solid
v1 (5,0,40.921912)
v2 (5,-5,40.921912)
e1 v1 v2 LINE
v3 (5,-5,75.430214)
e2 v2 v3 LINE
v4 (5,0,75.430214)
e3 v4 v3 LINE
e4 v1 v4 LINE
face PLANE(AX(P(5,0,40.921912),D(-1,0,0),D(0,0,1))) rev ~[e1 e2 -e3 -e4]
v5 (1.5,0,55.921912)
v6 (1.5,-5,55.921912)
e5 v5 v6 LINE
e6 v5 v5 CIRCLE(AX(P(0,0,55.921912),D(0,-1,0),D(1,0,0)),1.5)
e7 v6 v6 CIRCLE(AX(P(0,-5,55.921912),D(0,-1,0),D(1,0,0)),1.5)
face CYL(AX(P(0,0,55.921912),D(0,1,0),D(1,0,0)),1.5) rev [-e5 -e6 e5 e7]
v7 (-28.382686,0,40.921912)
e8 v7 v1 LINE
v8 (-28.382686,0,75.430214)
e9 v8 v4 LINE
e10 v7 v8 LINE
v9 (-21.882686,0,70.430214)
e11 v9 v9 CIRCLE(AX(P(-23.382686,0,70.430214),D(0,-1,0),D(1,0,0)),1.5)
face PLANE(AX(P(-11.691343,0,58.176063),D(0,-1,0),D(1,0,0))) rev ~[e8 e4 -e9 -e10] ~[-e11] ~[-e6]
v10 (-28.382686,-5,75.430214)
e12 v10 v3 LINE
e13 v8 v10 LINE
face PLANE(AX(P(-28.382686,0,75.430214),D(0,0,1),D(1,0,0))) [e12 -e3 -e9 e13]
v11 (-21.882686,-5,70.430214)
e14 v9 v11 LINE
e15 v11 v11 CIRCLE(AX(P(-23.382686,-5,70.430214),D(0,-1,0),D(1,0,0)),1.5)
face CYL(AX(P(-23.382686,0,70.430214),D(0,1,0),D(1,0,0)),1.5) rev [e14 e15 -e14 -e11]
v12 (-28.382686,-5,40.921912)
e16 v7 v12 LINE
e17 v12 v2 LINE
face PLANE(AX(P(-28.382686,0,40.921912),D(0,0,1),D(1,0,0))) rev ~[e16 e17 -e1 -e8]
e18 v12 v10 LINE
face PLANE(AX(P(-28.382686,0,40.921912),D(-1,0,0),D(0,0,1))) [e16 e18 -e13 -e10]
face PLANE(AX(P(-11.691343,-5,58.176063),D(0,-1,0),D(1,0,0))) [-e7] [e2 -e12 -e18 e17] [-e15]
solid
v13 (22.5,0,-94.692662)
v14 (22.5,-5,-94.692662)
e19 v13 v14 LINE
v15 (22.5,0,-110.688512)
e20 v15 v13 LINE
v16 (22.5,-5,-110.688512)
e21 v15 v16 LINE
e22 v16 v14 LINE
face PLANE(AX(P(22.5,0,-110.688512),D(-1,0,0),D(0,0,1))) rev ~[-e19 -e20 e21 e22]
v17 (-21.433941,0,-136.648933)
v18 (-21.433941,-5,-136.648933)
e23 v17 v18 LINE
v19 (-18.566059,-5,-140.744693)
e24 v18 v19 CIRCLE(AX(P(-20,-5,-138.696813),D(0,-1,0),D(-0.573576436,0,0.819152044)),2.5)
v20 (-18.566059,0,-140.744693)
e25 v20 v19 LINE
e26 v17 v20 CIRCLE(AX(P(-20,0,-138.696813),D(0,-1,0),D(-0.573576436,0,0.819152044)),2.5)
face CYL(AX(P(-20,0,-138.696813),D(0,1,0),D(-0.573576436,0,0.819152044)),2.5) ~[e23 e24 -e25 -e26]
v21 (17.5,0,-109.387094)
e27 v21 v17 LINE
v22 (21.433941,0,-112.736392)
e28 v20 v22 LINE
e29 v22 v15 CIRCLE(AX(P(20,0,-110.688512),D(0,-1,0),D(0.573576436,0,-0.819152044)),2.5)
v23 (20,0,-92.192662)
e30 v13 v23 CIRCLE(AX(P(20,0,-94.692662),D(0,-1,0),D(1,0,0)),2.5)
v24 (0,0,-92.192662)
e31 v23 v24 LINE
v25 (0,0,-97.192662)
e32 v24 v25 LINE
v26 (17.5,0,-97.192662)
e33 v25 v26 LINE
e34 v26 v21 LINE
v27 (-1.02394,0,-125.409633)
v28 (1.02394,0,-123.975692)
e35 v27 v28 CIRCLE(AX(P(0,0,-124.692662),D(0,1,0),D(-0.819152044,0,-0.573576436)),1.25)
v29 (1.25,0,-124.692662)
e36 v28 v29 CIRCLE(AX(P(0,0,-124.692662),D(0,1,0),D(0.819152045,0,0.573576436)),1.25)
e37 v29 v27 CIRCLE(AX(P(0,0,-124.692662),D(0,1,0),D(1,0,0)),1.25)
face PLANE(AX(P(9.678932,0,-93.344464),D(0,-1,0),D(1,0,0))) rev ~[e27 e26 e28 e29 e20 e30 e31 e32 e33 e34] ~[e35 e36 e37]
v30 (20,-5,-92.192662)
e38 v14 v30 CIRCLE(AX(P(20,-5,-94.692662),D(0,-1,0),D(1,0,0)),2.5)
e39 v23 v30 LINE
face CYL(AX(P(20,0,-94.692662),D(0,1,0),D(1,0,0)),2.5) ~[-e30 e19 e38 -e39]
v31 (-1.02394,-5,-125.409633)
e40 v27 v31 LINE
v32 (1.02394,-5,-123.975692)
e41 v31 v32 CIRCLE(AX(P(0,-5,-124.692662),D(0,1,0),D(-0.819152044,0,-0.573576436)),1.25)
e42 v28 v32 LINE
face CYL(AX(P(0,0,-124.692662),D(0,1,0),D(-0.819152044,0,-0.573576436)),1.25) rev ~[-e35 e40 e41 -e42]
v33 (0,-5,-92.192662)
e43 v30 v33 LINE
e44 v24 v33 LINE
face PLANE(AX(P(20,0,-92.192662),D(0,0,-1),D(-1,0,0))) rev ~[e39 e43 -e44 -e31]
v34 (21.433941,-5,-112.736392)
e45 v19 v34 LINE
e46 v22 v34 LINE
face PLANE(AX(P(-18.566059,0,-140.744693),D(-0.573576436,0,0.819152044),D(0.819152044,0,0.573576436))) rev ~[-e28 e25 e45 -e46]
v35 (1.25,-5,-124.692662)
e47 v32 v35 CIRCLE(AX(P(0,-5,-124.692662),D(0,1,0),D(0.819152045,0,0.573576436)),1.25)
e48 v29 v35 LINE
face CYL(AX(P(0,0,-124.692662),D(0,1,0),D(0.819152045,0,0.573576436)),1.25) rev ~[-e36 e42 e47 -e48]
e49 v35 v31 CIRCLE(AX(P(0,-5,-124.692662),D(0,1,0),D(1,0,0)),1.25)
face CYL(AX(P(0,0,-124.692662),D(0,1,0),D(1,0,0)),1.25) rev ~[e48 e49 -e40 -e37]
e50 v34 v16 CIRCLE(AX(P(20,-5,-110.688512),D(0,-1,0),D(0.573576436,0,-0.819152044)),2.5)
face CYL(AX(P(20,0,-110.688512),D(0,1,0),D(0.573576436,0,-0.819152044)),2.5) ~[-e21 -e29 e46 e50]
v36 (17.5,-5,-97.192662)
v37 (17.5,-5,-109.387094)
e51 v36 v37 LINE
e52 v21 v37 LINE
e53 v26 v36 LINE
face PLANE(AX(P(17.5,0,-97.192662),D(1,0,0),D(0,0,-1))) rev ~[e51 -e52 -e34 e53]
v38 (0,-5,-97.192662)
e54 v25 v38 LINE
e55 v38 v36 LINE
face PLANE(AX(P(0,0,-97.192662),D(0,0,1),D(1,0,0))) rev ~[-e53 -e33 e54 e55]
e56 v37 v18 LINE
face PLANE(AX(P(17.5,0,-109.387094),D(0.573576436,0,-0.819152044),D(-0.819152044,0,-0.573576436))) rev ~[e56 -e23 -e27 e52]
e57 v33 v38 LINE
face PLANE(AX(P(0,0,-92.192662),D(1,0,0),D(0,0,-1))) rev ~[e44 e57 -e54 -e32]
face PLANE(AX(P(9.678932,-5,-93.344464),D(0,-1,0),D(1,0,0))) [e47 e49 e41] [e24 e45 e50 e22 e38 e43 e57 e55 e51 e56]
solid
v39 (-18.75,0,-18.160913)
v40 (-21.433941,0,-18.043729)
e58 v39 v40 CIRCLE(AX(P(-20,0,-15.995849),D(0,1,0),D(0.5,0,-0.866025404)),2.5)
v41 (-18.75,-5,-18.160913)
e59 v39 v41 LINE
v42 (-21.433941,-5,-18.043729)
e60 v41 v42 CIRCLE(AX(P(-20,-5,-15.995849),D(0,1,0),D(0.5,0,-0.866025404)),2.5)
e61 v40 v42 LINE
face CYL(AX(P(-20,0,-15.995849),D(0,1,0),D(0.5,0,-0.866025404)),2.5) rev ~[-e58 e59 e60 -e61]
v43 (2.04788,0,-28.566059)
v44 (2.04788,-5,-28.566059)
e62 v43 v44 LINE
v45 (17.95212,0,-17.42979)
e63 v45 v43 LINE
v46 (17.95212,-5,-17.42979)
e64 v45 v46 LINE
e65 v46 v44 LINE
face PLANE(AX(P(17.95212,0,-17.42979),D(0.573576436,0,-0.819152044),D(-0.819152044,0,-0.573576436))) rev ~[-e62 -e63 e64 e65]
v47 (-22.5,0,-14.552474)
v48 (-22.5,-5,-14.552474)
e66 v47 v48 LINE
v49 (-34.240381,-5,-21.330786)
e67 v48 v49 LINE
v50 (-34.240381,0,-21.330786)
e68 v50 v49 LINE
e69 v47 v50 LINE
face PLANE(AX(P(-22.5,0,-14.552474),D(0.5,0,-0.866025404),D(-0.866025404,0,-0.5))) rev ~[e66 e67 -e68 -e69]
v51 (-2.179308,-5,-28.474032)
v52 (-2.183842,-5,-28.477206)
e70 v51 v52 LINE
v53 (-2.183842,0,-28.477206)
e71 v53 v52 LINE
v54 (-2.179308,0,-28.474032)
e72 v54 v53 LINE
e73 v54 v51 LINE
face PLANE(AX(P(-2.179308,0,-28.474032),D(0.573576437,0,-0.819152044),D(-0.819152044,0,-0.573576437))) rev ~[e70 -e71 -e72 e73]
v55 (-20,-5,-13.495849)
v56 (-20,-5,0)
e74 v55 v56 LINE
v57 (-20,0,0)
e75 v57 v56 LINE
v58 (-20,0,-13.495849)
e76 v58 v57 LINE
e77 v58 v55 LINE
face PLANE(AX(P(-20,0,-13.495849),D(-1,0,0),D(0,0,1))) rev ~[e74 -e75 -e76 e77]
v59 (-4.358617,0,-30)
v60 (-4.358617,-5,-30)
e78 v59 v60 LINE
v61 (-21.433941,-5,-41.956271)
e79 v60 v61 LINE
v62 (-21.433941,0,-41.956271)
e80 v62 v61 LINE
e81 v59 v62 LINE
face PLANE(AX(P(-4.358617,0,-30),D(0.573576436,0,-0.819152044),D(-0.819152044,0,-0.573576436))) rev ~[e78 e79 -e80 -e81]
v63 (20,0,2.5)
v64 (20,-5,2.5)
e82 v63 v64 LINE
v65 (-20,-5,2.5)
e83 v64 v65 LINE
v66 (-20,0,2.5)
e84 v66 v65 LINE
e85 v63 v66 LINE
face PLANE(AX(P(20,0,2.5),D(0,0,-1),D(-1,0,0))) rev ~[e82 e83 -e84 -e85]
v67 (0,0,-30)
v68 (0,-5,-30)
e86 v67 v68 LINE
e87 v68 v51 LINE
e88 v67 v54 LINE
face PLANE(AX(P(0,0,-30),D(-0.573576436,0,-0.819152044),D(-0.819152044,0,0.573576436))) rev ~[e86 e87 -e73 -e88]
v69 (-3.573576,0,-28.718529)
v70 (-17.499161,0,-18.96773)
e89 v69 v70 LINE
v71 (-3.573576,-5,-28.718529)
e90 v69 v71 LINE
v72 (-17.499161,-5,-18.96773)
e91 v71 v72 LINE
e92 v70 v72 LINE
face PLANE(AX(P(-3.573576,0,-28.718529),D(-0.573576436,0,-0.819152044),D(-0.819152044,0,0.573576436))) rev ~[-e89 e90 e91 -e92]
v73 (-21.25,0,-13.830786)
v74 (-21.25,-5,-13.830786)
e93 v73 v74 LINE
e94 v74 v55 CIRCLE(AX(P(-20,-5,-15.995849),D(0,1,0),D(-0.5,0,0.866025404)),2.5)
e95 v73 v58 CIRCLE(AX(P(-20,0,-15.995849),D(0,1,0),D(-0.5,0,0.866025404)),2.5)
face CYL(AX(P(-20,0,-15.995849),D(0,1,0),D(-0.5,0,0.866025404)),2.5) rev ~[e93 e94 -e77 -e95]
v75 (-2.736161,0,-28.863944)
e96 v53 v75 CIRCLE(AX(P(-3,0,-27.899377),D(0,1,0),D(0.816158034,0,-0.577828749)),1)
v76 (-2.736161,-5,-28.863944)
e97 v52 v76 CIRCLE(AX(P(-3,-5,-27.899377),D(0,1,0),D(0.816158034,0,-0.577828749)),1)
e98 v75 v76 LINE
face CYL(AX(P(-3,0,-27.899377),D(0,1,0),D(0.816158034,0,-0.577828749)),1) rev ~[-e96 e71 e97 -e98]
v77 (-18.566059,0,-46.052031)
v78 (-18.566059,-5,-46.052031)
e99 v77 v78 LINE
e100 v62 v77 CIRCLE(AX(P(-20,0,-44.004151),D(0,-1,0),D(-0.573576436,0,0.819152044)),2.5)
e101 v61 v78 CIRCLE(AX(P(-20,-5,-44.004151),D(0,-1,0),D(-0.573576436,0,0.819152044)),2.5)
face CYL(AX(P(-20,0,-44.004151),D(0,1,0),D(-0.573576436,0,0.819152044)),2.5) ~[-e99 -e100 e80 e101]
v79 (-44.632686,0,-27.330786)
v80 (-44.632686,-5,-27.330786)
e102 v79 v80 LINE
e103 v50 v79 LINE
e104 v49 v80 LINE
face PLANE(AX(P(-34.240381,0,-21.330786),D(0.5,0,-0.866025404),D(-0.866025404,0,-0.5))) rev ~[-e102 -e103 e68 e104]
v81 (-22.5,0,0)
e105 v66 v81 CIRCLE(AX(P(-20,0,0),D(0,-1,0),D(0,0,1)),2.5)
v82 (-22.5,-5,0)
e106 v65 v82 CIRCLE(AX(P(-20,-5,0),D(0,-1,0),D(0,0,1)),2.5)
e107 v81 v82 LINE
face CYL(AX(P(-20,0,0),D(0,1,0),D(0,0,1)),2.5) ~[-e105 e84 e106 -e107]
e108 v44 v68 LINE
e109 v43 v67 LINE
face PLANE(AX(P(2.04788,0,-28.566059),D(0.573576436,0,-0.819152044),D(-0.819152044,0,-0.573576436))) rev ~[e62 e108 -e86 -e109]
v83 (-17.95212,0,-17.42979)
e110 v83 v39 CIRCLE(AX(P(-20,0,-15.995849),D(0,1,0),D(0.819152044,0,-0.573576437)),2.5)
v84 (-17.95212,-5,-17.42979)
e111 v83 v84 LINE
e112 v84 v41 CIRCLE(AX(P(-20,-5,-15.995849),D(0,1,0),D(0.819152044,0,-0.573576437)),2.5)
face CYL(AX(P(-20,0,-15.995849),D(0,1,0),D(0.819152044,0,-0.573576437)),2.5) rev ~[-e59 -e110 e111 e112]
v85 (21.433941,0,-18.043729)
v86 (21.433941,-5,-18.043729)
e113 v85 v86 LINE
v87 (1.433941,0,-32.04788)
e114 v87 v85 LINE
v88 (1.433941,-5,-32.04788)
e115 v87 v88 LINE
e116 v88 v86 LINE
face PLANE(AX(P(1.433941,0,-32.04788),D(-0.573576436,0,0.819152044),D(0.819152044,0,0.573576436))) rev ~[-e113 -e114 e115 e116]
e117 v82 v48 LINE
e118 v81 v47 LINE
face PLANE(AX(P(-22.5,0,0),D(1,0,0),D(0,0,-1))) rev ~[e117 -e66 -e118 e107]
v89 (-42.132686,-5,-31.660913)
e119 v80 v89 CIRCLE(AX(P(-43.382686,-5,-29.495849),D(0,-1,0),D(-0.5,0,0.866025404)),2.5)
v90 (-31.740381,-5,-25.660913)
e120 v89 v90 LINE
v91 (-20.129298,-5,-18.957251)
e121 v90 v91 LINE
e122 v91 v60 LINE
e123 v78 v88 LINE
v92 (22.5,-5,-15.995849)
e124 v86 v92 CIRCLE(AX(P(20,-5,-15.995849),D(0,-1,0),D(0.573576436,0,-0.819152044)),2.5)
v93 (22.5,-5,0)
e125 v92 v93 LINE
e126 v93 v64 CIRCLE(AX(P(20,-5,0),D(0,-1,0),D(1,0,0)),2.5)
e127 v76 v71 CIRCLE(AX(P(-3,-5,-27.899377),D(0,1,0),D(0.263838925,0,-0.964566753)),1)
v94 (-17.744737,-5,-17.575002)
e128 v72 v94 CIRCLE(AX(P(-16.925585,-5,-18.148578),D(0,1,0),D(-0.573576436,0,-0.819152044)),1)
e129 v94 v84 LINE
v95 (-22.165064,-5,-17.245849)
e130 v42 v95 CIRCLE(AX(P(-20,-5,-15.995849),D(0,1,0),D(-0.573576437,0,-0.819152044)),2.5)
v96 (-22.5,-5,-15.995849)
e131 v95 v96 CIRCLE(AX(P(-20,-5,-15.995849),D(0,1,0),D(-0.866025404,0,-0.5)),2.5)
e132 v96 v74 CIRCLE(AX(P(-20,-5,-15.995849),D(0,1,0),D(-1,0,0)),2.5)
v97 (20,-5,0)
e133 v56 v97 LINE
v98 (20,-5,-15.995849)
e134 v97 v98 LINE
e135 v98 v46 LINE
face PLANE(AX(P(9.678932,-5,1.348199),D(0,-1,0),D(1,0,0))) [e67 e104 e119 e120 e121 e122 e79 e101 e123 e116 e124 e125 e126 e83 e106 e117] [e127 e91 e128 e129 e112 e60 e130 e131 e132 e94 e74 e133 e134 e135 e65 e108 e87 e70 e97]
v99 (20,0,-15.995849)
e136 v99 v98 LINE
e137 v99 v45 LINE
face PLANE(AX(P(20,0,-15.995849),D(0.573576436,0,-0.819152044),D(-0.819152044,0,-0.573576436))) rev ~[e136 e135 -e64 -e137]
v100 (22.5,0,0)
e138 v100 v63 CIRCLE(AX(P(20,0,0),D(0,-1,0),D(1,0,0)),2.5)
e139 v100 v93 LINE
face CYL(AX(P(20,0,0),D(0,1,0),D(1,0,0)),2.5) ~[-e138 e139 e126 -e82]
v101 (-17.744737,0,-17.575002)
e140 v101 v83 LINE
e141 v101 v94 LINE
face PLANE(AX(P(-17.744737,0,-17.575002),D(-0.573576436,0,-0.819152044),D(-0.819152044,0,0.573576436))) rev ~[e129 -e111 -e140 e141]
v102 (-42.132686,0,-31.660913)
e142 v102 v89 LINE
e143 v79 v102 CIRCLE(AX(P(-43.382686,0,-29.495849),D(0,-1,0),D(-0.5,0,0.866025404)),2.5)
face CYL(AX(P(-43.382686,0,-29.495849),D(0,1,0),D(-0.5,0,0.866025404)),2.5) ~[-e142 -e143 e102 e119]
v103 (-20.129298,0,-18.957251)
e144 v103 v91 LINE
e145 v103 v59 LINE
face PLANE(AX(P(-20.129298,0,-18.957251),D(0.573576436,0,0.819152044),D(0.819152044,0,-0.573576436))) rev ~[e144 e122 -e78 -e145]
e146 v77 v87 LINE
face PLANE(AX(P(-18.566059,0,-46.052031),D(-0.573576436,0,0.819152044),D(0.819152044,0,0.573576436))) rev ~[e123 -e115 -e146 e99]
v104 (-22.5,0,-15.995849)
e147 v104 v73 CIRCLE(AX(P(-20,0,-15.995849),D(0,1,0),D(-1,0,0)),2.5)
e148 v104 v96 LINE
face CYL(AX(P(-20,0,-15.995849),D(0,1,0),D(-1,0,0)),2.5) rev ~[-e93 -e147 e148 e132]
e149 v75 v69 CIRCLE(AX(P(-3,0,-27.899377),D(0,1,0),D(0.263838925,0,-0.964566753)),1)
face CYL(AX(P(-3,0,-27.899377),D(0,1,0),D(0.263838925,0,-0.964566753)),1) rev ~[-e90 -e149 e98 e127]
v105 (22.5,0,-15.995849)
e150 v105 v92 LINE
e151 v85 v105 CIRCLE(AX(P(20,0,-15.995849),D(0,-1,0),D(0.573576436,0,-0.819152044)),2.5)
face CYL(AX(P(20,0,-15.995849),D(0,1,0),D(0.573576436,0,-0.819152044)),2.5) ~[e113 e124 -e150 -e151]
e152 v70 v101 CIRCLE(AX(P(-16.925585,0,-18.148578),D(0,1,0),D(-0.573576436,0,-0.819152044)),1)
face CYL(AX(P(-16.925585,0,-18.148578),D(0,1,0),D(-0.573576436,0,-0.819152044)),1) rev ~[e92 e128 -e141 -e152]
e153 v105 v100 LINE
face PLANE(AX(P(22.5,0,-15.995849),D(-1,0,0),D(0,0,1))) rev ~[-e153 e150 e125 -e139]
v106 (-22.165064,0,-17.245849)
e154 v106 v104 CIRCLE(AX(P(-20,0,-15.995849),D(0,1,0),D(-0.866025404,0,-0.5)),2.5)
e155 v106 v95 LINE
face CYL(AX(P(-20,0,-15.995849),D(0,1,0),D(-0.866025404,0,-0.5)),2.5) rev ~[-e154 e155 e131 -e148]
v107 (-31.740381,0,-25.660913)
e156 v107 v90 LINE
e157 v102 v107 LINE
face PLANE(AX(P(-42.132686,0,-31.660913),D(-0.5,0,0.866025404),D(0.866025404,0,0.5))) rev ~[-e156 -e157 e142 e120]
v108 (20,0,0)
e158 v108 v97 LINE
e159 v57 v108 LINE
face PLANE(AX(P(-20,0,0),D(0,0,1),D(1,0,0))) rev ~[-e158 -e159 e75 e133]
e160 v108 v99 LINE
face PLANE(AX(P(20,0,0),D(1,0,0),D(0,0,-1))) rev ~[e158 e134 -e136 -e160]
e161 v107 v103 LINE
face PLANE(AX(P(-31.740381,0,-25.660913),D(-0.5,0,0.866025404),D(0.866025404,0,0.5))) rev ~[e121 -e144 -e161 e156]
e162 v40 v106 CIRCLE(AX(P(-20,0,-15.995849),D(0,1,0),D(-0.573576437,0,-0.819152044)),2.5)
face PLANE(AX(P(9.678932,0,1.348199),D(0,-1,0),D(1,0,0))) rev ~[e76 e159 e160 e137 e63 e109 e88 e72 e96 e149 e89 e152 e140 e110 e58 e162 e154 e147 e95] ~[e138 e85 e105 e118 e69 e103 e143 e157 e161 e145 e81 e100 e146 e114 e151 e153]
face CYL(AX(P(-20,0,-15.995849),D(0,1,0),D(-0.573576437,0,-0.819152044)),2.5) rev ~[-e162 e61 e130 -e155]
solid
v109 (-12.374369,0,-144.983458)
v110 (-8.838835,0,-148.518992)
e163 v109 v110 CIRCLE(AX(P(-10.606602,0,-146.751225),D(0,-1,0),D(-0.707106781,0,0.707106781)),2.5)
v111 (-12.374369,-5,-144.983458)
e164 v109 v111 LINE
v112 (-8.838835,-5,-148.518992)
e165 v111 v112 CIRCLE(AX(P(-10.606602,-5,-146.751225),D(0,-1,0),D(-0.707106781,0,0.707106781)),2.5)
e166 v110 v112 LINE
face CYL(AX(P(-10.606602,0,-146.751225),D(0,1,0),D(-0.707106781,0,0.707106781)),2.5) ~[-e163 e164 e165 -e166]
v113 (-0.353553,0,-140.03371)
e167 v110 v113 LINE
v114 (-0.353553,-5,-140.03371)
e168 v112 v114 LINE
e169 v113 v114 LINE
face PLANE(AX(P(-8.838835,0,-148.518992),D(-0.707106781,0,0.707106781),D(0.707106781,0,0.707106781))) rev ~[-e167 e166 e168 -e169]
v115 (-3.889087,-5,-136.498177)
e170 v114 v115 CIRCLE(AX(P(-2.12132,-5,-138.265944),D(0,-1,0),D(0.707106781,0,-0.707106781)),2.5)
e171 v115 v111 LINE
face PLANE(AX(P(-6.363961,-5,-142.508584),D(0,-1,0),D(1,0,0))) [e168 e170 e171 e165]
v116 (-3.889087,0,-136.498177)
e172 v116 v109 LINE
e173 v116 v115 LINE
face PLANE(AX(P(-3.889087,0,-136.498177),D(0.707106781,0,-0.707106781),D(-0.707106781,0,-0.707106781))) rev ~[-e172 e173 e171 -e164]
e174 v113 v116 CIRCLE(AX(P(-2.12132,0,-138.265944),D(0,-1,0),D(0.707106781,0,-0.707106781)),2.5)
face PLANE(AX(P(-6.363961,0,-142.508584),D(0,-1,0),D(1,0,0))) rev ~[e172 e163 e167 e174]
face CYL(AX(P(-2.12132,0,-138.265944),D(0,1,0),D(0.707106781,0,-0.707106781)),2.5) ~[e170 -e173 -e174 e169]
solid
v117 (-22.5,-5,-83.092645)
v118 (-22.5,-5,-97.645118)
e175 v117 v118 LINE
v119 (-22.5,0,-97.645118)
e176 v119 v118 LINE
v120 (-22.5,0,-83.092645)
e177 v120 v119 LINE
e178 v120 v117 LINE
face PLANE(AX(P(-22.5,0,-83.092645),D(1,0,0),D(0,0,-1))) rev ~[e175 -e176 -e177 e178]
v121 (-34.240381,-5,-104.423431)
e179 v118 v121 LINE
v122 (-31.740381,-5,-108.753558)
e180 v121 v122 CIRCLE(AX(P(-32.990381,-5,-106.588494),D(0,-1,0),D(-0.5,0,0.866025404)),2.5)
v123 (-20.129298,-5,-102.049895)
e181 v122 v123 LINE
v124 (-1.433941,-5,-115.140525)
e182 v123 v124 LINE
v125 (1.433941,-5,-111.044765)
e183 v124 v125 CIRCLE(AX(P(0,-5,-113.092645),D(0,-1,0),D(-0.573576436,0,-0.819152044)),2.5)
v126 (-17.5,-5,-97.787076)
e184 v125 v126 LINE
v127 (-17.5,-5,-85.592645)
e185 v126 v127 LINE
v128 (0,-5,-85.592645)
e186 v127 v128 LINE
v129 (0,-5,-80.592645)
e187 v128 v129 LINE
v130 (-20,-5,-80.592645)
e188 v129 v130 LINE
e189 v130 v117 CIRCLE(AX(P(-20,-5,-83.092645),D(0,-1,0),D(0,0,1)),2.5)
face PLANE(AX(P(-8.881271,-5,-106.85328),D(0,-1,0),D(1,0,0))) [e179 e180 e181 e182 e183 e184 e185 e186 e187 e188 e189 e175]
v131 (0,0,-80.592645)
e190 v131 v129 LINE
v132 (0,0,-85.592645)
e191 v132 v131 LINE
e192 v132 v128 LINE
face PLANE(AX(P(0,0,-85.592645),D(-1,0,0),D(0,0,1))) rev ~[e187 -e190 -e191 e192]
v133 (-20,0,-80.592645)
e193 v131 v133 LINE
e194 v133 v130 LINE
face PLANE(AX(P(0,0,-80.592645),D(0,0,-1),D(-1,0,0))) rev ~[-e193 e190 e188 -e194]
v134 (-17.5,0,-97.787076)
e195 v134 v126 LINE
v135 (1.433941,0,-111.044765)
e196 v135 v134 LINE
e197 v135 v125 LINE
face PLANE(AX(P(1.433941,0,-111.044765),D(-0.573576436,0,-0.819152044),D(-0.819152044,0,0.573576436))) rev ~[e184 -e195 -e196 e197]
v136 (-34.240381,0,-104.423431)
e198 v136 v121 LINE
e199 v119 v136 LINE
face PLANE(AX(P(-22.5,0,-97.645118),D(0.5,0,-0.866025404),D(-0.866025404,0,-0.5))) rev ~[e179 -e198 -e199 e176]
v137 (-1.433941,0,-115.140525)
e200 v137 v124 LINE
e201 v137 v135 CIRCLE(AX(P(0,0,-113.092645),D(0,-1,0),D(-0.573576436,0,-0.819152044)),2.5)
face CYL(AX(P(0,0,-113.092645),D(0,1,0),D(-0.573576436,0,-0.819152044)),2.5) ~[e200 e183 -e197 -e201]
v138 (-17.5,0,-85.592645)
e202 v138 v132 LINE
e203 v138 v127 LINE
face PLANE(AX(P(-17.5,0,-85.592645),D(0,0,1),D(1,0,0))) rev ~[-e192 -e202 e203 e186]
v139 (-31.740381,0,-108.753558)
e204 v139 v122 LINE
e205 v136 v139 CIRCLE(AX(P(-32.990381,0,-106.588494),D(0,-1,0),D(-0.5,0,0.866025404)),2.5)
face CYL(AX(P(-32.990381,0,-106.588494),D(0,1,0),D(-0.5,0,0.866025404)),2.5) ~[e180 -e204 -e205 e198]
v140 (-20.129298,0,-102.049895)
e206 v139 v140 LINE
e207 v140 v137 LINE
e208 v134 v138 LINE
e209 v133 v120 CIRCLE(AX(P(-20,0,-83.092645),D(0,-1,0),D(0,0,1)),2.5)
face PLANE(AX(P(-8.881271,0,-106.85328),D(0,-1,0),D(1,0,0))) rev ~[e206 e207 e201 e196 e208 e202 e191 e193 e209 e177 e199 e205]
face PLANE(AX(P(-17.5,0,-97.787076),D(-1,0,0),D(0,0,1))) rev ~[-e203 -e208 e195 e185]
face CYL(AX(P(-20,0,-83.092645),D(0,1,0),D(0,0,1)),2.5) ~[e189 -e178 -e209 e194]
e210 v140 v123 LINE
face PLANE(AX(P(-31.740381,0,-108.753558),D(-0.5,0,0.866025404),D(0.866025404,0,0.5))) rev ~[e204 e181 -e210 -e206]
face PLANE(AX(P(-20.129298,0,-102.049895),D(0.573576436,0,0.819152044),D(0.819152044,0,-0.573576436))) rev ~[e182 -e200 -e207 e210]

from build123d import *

# Parameters (mm, degrees)
F1_DEPTH = 5
F0_W     = 2.5
F0_H     = 2.5
F0_W_2   = 17.5
F0_W_3   = 33.3826859022
F0_H_2   = 34.5083015284
F0_R     = 1.5


with BuildPart() as f1:
    # F0 (on Front) → F1 (new body)
    with BuildSketch(Plane.XZ):
        with BuildLine():
            Line((0, 2.5), (0, 0))
            Line((0, 0), (17.5, 0))
            ThreePointArc((17.5, 0), (18.232233047, 1.767766953), (20, 2.5))
            Line((20, 2.5), (0, 2.5))
        make_face()
        with BuildLine():
            Line((-17.5, 0), (0, 0))
            Line((0, 0), (0, 2.5))
            Line((0, 2.5), (-20, 2.5))
            ThreePointArc((-20, 2.5), (-18.232233047, 1.767766953), (-17.5, 0))
        make_face()
        with BuildLine():
            ThreePointArc((20, 2.5), (18.232233047, 1.767766953), (17.5, 0))
            Line((17.5, 0), (20, 0))
            Line((20, 0), (20, -2.5))
            ThreePointArc((20, -2.5), (21.767766953, -1.767766953), (22.5, 0))
            ThreePointArc((22.5, 0), (21.767766953, 1.767766953), (20, 2.5))
        make_face()
        with BuildLine():
            Line((-20, 0), (-17.5, 0))
            ThreePointArc((-17.5, 0), (-18.232233047, 1.767766953), (-20, 2.5))
            ThreePointArc((-20, 2.5), (-21.767766953, 1.767766953), (-22.5, 0))
            ThreePointArc((-22.5, 0), (-21.767766953, -1.767766953), (-20, -2.5))
            Line((-20, -2.5), (-20, 0))
        make_face()
        with BuildLine():
            ThreePointArc((22.5, 0), (21.767766953, -1.767766953), (20, -2.5))
            Line((20, -2.5), (20, -13.4958492358))
            ThreePointArc((20, -13.4958492358), (21.767766953, -14.2280822828), (22.5, -15.9958492358))
            Line((22.5, -15.9958492358), (22.5, 0))
        make_face()
        with BuildLine():
            Line((-20, -13.4958492358), (-20, -2.5))
            ThreePointArc((-20, -2.5), (-21.767766953, -1.767766953), (-22.5, 0))
            Line((-22.5, 0), (-22.5, -14.5524735628))
            Line((-22.5, -14.5524735628), (-21.25, -13.8307857263))
            ThreePointArc((-21.25, -13.8307857263), (-20.6470476128, -13.5810346701), (-20, -13.4958492358))
        make_face()
        with BuildLine():
            ThreePointArc((22.5, -15.9958492358), (21.767766953, -14.2280822828), (20, -13.4958492358))
            Line((20, -13.4958492358), (20, -15.9958492358))
            Line((20, -15.9958492358), (17.9521198893, -17.4297903267))
            ThreePointArc((17.9521198893, -17.4297903267), (19.5658795558, -18.4578686183), (21.4339410909, -18.0437293465))
            ThreePointArc((21.4339410909, -18.0437293465), (22.2175270829, -17.1502207689), (22.5, -15.9958492358))
        make_face()
        with BuildLine():
            Line((-21.25, -13.8307857263), (-22.5, -14.5524735628))
            Line((-22.5, -14.5524735628), (-22.5, -15.9958492358))
            ThreePointArc((-22.5, -15.9958492358), (-22.1650635095, -14.7458492358), (-21.25, -13.8307857263))
        make_face()
        with BuildLine():
            Line((-22.5, -15.9958492358), (-22.5, -14.5524735628))
            Line((-22.5, -14.5524735628), (-34.2403810568, -21.3307857263))
            ThreePointArc((-34.2403810568, -21.3307857263), (-32.343333444, -21.0810346701), (-30.8253175473, -22.2458492358))
            Line((-30.8253175473, -22.2458492358), (-22.1650635095, -17.2458492358))
            ThreePointArc((-22.1650635095, -17.2458492358), (-22.4148145657, -16.6428968486), (-22.5, -15.9958492358))
        make_face()
        with BuildLine():
            Line((1.4339411547, -32.0478800661), (21.4339410909, -18.0437293465))
            ThreePointArc((21.4339410909, -18.0437293465), (19.5658795558, -18.4578686183), (17.9521198893, -17.4297903267))
            Line((17.9521198893, -17.4297903267), (2.0478801107, -28.5660589091))
            ThreePointArc((2.0478801107, -28.5660589091), (2.4620193893, -30.4341204058), (1.4339411547, -32.0478800661))
        make_face()
        with BuildLine():
            Line((0, -30), (-2.1793084945, -28.474031764))
            Line((-2.1793084945, -28.474031764), (-2.1838419664, -28.4772061352))
            ThreePointArc((-2.1838419664, -28.4772061352), (-2.4264235636, -28.7185294297), (-2.7361610753, -28.8639441388))
            Line((-2.7361610753, -28.8639441388), (-4.3586169891, -30))
            Line((-4.3586169891, -30), (-2.1793084945, -31.525968236))
            Line((-2.1793084945, -31.525968236), (0, -30))
        make_face()
        with BuildLine():
            ThreePointArc((-30.8253175473, -22.2458492358), (-32.343333444, -21.0810346701), (-34.2403810568, -21.3307857263))
            ThreePointArc((-34.2403810568, -21.3307857263), (-35.4051956225, -22.848801623), (-35.1554445662, -24.7458492358))
            Line((-35.1554445662, -24.7458492358), (-32.9903810568, -23.4958492358))
            Line((-32.9903810568, -23.4958492358), (-30.8253175473, -22.2458492358))
        make_face()
        with BuildLine():
            ThreePointArc((-35.1554445662, -24.7458492358), (-35.4051956225, -22.848801623), (-34.2403810568, -21.3307857263))
            Line((-34.2403810568, -21.3307857263), (-44.6326859022, -27.3307857263))
            ThreePointArc((-44.6326859022, -27.3307857263), (-45.5477494116, -30.7458492358), (-42.1326859022, -31.6609127453))
            Line((-42.1326859022, -31.6609127453), (-31.7403810568, -25.6609127453))
            ThreePointArc((-31.7403810568, -25.6609127453), (-33.6374286695, -25.9106638015), (-35.1554445662, -24.7458492358))
        make_face()
        with BuildLine():
            Line((-17.7447367972, -17.5750015311), (-17.9521198893, -17.4297903267))
            ThreePointArc((-17.9521198893, -17.4297903267), (-18.311024481, -17.8390425778), (-18.75, -18.1609127453))
            Line((-18.75, -18.1609127453), (-20.1292975746, -18.9572505713))
            Line((-20.1292975746, -18.9572505713), (-4.3586169891, -30))
            Line((-4.3586169891, -30), (-2.7361610753, -28.8639441388))
            ThreePointArc((-2.7361610753, -28.8639441388), (-3.1710867936, -28.8846333466), (-3.5735764364, -28.7185294297))
            Line((-3.5735764364, -28.7185294297), (-17.4991611893, -18.9677300117))
            ThreePointArc((-17.4991611893, -18.9677300117), (-17.9103925059, -18.3222261451), (-17.7447367972, -17.5750015311))
        make_face()
        with BuildLine():
            ThreePointArc((-1.4339410909, -32.0478801107), (3.89e-08, -32.5), (1.4339411547, -32.0478800661))
            ThreePointArc((1.4339411547, -32.0478800661), (2.4620193893, -30.4341204058), (2.0478801107, -28.5660589091))
            Line((2.0478801107, -28.5660589091), (0, -30))
            Line((0, -30), (-2.1793084945, -31.525968236))
            Line((-2.1793084945, -31.525968236), (-1.4339410909, -32.0478801107))
        make_face()
        with BuildLine():
            Line((-18.5660589091, -46.0520308749), (1.4339411547, -32.0478800661))
            ThreePointArc((1.4339411547, -32.0478800661), (3.89e-08, -32.5), (-1.4339410909, -32.0478801107))
            Line((-1.4339410909, -32.0478801107), (-2.1793084945, -31.525968236))
            Line((-2.1793084945, -31.525968236), (-4.3586169891, -30))
            Line((-4.3586169891, -30), (-21.4339410909, -41.9562706535))
            ThreePointArc((-21.4339410909, -41.9562706535), (-22.0478801107, -45.4380918551), (-18.5660589091, -46.0520308749))
        make_face()
        with BuildLine():
            ThreePointArc((-21.4339410909, -18.0437293465), (-21.843193342, -17.6848247548), (-22.1650635095, -17.2458492358))
            Line((-22.1650635095, -17.2458492358), (-30.8253175473, -22.2458492358))
            ThreePointArc((-30.8253175473, -22.2458492358), (-30.575566491, -24.1428968486), (-31.7403810568, -25.6609127453))
            Line((-31.7403810568, -25.6609127453), (-20.1292975746, -18.9572505713))
            Line((-20.1292975746, -18.9572505713), (-21.4339410909, -18.0437293465))
        make_face()
        with BuildLine():
            Line((-32.9903810568, -23.4958492358), (-35.1554445662, -24.7458492358))
            ThreePointArc((-35.1554445662, -24.7458492358), (-33.6374286695, -25.9106638015), (-31.7403810568, -25.6609127453))
            ThreePointArc((-31.7403810568, -25.6609127453), (-30.575566491, -24.1428968486), (-30.8253175473, -22.2458492358))
            Line((-30.8253175473, -22.2458492358), (-32.9903810568, -23.4958492358))
        make_face()
        with BuildLine():
            Line((-20.1292975746, -18.9572505713), (-18.75, -18.1609127453))
            ThreePointArc((-18.75, -18.1609127453), (-20.1090484684, -18.4934697898), (-21.4339410909, -18.0437293465))
            Line((-21.4339410909, -18.0437293465), (-20.1292975746, -18.9572505713))
        make_face()
    extrude(amount=F1_DEPTH)


with BuildPart() as f1b:
    # F0 (on Front) → F1, piece 2 (new body)
    with BuildSketch(Plane.XZ):
        with BuildLine():
            ThreePointArc((-17.5, -99.0884940465), (-17.6157076231, -99.8402585452), (-17.9521198893, -100.5224351374))
            ThreePointArc((-17.9521198893, -100.5224351374), (-18.311024481, -100.9316873885), (-18.75, -101.2535575559))
            Line((-18.75, -101.2535575559), (-20.1292975746, -102.049895382))
            Line((-20.1292975746, -102.049895382), (-1.4339410909, -115.1405249214))
            ThreePointArc((-1.4339410909, -115.1405249214), (2.0478801107, -114.5265859016), (1.4339410909, -111.0447647))
            Line((1.4339410909, -111.0447647), (-17.5, -97.7870764201))
            Line((-17.5, -97.7870764201), (-17.5, -99.0884940465))
        make_face()
        with BuildLine():
            ThreePointArc((-18.5660589091, -97.0406139358), (-17.7824729171, -97.9341225134), (-17.5, -99.0884940465))
            Line((-17.5, -99.0884940465), (-17.5, -97.7870764201))
            Line((-17.5, -97.7870764201), (-18.5660589091, -97.0406139358))
        make_face()
        with BuildLine():
            Line((-20.1292975746, -102.049895382), (-18.75, -101.2535575559))
            ThreePointArc((-18.75, -101.2535575559), (-20.1090484684, -101.5861146004), (-21.4339410909, -101.1363741572))
            Line((-21.4339410909, -101.1363741572), (-20.1292975746, -102.049895382))
        make_face()
        with BuildLine():
            ThreePointArc((-21.25, -96.923430537), (-20.6470476128, -96.6736794808), (-20, -96.5884940465))
            Line((-20, -96.5884940465), (-20, -85.5926448107))
            ThreePointArc((-20, -85.5926448107), (-21.767766953, -84.8604117636), (-22.5, -83.0926448107))
            Line((-22.5, -83.0926448107), (-22.5, -97.6451183735))
            Line((-22.5, -97.6451183735), (-21.25, -96.923430537))
        make_face()
        with BuildLine():
            Line((-20, -85.5926448107), (-20, -96.5884940465))
            ThreePointArc((-20, -96.5884940465), (-19.2482355012, -96.7042016696), (-18.5660589091, -97.0406139358))
            Line((-18.5660589091, -97.0406139358), (-17.5, -97.7870764201))
            Line((-17.5, -97.7870764201), (-17.5, -85.5926448107))
            Line((-17.5, -85.5926448107), (-20, -85.5926448107))
        make_face()
        with BuildLine():
            ThreePointArc((-21.4339410909, -101.1363741572), (-21.843193342, -100.7774695655), (-22.1650635095, -100.3384940465))
            ThreePointArc((-22.1650635095, -100.3384940465), (-22.4148145657, -99.7355416592), (-22.5, -99.0884940465))
            Line((-22.5, -99.0884940465), (-22.5, -97.6451183735))
            Line((-22.5, -97.6451183735), (-34.2403810568, -104.423430537))
            ThreePointArc((-34.2403810568, -104.423430537), (-35.1554445662, -107.8384940465), (-31.7403810568, -108.7535575559))
            Line((-31.7403810568, -108.7535575559), (-20.1292975746, -102.049895382))
            Line((-20.1292975746, -102.049895382), (-21.4339410909, -101.1363741572))
        make_face()
        with BuildLine():
            ThreePointArc((-22.5, -83.0926448107), (-21.767766953, -84.8604117636), (-20, -85.5926448107))
            Line((-20, -85.5926448107), (-20, -83.0926448107))
            Line((-20, -83.0926448107), (-17.5, -83.0926448107))
            ThreePointArc((-17.5, -83.0926448107), (-18.232233047, -81.3248778577), (-20, -80.5926448107))
            ThreePointArc((-20, -80.5926448107), (-21.767766953, -81.3248778577), (-22.5, -83.0926448107))
        make_face()
        with Locations((-18.75, -84.3426448107)):
            Rectangle(F0_W, F0_H)
        with BuildLine():
            ThreePointArc((-22.5, -99.0884940465), (-22.1650635095, -97.8384940465), (-21.25, -96.923430537))
            Line((-21.25, -96.923430537), (-22.5, -97.6451183735))
            Line((-22.5, -97.6451183735), (-22.5, -99.0884940465))
        make_face()
        with Locations((-8.75, -84.3426448107)):
            Rectangle(F0_W_2, F0_H)
        with BuildLine():
            ThreePointArc((-20, -80.5926448107), (-18.232233047, -81.3248778577), (-17.5, -83.0926448107))
            Line((-17.5, -83.0926448107), (0, -83.0926448107))
            Line((0, -83.0926448107), (0, -80.5926448107))
            Line((0, -80.5926448107), (-20, -80.5926448107))
        make_face()
        with BuildLine():
            ThreePointArc((-18.75, -101.2535575559), (-18.311024481, -100.9316873885), (-17.9521198893, -100.5224351374))
            Line((-17.9521198893, -100.5224351374), (-20, -99.0884940465))
            Line((-20, -99.0884940465), (-22.1650635095, -100.3384940465))
            ThreePointArc((-22.1650635095, -100.3384940465), (-21.843193342, -100.7774695655), (-21.4339410909, -101.1363741572))
            ThreePointArc((-21.4339410909, -101.1363741572), (-20.1090484684, -101.5861146004), (-18.75, -101.2535575559))
        make_face()
        with BuildLine():
            Line((-22.1650635095, -100.3384940465), (-20, -99.0884940465))
            Line((-20, -99.0884940465), (-20, -96.5884940465))
            ThreePointArc((-20, -96.5884940465), (-20.6470476128, -96.6736794808), (-21.25, -96.923430537))
            ThreePointArc((-21.25, -96.923430537), (-22.1650635095, -97.8384940465), (-22.5, -99.0884940465))
            ThreePointArc((-22.5, -99.0884940465), (-22.4148145657, -99.7355416592), (-22.1650635095, -100.3384940465))
        make_face()
        with BuildLine():
            Line((-20, -99.0884940465), (-17.9521198893, -100.5224351374))
            ThreePointArc((-17.9521198893, -100.5224351374), (-17.6157076231, -99.8402585452), (-17.5, -99.0884940465))
            ThreePointArc((-17.5, -99.0884940465), (-17.7824729171, -97.9341225134), (-18.5660589091, -97.0406139358))
            ThreePointArc((-18.5660589091, -97.0406139358), (-19.2482355012, -96.7042016696), (-20, -96.5884940465))
            Line((-20, -96.5884940465), (-20, -99.0884940465))
        make_face()
    extrude(amount=F1_DEPTH)


with BuildPart() as f1c:
    # F0 (on Front) → F1, piece 3 (new body)
    with BuildSketch(Plane.XZ):
        with BuildLine():
            Line((0, -92.1926623583), (0, -94.6926623583))
            Line((0, -94.6926623583), (17.5, -94.6926623583))
            ThreePointArc((17.5, -94.6926623583), (18.232233047, -92.9248954053), (20, -92.1926623583))
            Line((20, -92.1926623583), (0, -92.1926623583))
        make_face()
        with Locations((8.75, -95.9426623583)):
            Rectangle(F0_W_2, F0_H)
        with BuildLine():
            ThreePointArc((20, -92.1926623583), (18.232233047, -92.9248954053), (17.5, -94.6926623583))
            Line((17.5, -94.6926623583), (20, -94.6926623583))
            Line((20, -94.6926623583), (20, -97.1926623583))
            ThreePointArc((20, -97.1926623583), (21.767766953, -96.4604293113), (22.5, -94.6926623583))
            ThreePointArc((22.5, -94.6926623583), (21.767766953, -92.9248954053), (20, -92.1926623583))
        make_face()
        with Locations((18.75, -95.9426623583)):
            Rectangle(F0_W, F0_H)
        with BuildLine():
            Line((20, -97.1926623583), (17.5, -97.1926623583))
            Line((17.5, -97.1926623583), (17.5, -109.3870939677))
            Line((17.5, -109.3870939677), (18.5660589091, -108.6406314834))
            ThreePointArc((18.5660589091, -108.6406314834), (19.2482355012, -108.3042192172), (20, -108.1885115941))
            Line((20, -108.1885115941), (20, -97.1926623583))
        make_face()
        with BuildLine():
            ThreePointArc((22.5, -94.6926623583), (21.767766953, -96.4604293113), (20, -97.1926623583))
            Line((20, -97.1926623583), (20, -108.1885115941))
            ThreePointArc((20, -108.1885115941), (21.767766953, -108.9207446411), (22.5, -110.6885115941))
            Line((22.5, -110.6885115941), (22.5, -94.6926623583))
        make_face()
        with BuildLine():
            Line((17.5, -110.6885115941), (17.5, -109.3870939677))
            Line((17.5, -109.3870939677), (-21.4339410909, -136.6489330118))
            ThreePointArc((-21.4339410909, -136.6489330118), (-22.0478801107, -140.1307542134), (-18.5660589091, -140.7446932332))
            Line((-18.5660589091, -140.7446932332), (21.4339410909, -112.7363917048))
            ThreePointArc((21.4339410909, -112.7363917048), (19.5658795558, -113.1505309766), (17.9521198893, -112.122452685))
            ThreePointArc((17.9521198893, -112.122452685), (17.6157076231, -111.4402760929), (17.5, -110.6885115941))
        make_face()
        with BuildLine():
            ThreePointArc((-1.0239400554, -125.4096329037), (-0.7169705454, -123.6687223029), (1.0239400554, -123.9756918128))
            ThreePointArc((1.0239400554, -123.9756918128), (1.1921461884, -124.3167801089), (1.25, -124.6926623583))
            ThreePointArc((1.25, -124.6926623583), (0.3758822494, -125.8848085467), (-1.0239400554, -125.4096329037))
        make_face(mode=Mode.SUBTRACT)
        with BuildLine():
            Line((18.5660589091, -108.6406314834), (17.5, -109.3870939677))
            Line((17.5, -109.3870939677), (17.5, -110.6885115941))
            ThreePointArc((17.5, -110.6885115941), (17.6157076231, -111.4402760929), (17.9521198893, -112.122452685))
            Line((17.9521198893, -112.122452685), (20, -110.6885115941))
            Line((20, -110.6885115941), (20, -108.1885115941))
            ThreePointArc((20, -108.1885115941), (19.2482355012, -108.3042192172), (18.5660589091, -108.6406314834))
        make_face()
        with BuildLine():
            ThreePointArc((22.5, -110.6885115941), (21.767766953, -108.9207446411), (20, -108.1885115941))
            Line((20, -108.1885115941), (20, -110.6885115941))
            Line((20, -110.6885115941), (17.9521198893, -112.122452685))
            ThreePointArc((17.9521198893, -112.122452685), (19.5658795558, -113.1505309766), (21.4339410909, -112.7363917048))
            ThreePointArc((21.4339410909, -112.7363917048), (22.2175270829, -111.8428831272), (22.5, -110.6885115941))
        make_face()
    extrude(amount=F1_DEPTH)


with BuildPart() as f1d:
    # F0 (on Front) → F1, piece 4 (new body)
    with BuildSketch(Plane.XZ):
        with BuildLine():
            ThreePointArc((-0.3535533906, -140.0337104569), (-0.3535533906, -136.498176551), (-3.8890872965, -136.498176551))
            Line((-3.8890872965, -136.498176551), (-12.3743686708, -144.9834579252))
            ThreePointArc((-12.3743686708, -144.9834579252), (-12.3743686708, -148.5189918311), (-8.8388347648, -148.5189918311))
            Line((-8.8388347648, -148.5189918311), (-0.3535533906, -140.0337104569))
        make_face()
    extrude(amount=F1_DEPTH)


with BuildPart() as f1e:
    # F0 (on Front) → F1, piece 5 (new body)
    with BuildSketch(Plane.XZ):
        with Locations((-11.6913429511, 58.1760629575)):
            Rectangle(F0_W_3, F0_H_2)
        with Locations((-23.3826859022, 70.4302137217)):
            Circle(F0_R, mode=Mode.SUBTRACT)
        with Locations((0, 55.9219121933)):
            Circle(F0_R, mode=Mode.SUBTRACT)
    extrude(amount=F1_DEPTH)


solid = Compound([f1.part, f1b.part, f1c.part, f1d.part, f1e.part])
